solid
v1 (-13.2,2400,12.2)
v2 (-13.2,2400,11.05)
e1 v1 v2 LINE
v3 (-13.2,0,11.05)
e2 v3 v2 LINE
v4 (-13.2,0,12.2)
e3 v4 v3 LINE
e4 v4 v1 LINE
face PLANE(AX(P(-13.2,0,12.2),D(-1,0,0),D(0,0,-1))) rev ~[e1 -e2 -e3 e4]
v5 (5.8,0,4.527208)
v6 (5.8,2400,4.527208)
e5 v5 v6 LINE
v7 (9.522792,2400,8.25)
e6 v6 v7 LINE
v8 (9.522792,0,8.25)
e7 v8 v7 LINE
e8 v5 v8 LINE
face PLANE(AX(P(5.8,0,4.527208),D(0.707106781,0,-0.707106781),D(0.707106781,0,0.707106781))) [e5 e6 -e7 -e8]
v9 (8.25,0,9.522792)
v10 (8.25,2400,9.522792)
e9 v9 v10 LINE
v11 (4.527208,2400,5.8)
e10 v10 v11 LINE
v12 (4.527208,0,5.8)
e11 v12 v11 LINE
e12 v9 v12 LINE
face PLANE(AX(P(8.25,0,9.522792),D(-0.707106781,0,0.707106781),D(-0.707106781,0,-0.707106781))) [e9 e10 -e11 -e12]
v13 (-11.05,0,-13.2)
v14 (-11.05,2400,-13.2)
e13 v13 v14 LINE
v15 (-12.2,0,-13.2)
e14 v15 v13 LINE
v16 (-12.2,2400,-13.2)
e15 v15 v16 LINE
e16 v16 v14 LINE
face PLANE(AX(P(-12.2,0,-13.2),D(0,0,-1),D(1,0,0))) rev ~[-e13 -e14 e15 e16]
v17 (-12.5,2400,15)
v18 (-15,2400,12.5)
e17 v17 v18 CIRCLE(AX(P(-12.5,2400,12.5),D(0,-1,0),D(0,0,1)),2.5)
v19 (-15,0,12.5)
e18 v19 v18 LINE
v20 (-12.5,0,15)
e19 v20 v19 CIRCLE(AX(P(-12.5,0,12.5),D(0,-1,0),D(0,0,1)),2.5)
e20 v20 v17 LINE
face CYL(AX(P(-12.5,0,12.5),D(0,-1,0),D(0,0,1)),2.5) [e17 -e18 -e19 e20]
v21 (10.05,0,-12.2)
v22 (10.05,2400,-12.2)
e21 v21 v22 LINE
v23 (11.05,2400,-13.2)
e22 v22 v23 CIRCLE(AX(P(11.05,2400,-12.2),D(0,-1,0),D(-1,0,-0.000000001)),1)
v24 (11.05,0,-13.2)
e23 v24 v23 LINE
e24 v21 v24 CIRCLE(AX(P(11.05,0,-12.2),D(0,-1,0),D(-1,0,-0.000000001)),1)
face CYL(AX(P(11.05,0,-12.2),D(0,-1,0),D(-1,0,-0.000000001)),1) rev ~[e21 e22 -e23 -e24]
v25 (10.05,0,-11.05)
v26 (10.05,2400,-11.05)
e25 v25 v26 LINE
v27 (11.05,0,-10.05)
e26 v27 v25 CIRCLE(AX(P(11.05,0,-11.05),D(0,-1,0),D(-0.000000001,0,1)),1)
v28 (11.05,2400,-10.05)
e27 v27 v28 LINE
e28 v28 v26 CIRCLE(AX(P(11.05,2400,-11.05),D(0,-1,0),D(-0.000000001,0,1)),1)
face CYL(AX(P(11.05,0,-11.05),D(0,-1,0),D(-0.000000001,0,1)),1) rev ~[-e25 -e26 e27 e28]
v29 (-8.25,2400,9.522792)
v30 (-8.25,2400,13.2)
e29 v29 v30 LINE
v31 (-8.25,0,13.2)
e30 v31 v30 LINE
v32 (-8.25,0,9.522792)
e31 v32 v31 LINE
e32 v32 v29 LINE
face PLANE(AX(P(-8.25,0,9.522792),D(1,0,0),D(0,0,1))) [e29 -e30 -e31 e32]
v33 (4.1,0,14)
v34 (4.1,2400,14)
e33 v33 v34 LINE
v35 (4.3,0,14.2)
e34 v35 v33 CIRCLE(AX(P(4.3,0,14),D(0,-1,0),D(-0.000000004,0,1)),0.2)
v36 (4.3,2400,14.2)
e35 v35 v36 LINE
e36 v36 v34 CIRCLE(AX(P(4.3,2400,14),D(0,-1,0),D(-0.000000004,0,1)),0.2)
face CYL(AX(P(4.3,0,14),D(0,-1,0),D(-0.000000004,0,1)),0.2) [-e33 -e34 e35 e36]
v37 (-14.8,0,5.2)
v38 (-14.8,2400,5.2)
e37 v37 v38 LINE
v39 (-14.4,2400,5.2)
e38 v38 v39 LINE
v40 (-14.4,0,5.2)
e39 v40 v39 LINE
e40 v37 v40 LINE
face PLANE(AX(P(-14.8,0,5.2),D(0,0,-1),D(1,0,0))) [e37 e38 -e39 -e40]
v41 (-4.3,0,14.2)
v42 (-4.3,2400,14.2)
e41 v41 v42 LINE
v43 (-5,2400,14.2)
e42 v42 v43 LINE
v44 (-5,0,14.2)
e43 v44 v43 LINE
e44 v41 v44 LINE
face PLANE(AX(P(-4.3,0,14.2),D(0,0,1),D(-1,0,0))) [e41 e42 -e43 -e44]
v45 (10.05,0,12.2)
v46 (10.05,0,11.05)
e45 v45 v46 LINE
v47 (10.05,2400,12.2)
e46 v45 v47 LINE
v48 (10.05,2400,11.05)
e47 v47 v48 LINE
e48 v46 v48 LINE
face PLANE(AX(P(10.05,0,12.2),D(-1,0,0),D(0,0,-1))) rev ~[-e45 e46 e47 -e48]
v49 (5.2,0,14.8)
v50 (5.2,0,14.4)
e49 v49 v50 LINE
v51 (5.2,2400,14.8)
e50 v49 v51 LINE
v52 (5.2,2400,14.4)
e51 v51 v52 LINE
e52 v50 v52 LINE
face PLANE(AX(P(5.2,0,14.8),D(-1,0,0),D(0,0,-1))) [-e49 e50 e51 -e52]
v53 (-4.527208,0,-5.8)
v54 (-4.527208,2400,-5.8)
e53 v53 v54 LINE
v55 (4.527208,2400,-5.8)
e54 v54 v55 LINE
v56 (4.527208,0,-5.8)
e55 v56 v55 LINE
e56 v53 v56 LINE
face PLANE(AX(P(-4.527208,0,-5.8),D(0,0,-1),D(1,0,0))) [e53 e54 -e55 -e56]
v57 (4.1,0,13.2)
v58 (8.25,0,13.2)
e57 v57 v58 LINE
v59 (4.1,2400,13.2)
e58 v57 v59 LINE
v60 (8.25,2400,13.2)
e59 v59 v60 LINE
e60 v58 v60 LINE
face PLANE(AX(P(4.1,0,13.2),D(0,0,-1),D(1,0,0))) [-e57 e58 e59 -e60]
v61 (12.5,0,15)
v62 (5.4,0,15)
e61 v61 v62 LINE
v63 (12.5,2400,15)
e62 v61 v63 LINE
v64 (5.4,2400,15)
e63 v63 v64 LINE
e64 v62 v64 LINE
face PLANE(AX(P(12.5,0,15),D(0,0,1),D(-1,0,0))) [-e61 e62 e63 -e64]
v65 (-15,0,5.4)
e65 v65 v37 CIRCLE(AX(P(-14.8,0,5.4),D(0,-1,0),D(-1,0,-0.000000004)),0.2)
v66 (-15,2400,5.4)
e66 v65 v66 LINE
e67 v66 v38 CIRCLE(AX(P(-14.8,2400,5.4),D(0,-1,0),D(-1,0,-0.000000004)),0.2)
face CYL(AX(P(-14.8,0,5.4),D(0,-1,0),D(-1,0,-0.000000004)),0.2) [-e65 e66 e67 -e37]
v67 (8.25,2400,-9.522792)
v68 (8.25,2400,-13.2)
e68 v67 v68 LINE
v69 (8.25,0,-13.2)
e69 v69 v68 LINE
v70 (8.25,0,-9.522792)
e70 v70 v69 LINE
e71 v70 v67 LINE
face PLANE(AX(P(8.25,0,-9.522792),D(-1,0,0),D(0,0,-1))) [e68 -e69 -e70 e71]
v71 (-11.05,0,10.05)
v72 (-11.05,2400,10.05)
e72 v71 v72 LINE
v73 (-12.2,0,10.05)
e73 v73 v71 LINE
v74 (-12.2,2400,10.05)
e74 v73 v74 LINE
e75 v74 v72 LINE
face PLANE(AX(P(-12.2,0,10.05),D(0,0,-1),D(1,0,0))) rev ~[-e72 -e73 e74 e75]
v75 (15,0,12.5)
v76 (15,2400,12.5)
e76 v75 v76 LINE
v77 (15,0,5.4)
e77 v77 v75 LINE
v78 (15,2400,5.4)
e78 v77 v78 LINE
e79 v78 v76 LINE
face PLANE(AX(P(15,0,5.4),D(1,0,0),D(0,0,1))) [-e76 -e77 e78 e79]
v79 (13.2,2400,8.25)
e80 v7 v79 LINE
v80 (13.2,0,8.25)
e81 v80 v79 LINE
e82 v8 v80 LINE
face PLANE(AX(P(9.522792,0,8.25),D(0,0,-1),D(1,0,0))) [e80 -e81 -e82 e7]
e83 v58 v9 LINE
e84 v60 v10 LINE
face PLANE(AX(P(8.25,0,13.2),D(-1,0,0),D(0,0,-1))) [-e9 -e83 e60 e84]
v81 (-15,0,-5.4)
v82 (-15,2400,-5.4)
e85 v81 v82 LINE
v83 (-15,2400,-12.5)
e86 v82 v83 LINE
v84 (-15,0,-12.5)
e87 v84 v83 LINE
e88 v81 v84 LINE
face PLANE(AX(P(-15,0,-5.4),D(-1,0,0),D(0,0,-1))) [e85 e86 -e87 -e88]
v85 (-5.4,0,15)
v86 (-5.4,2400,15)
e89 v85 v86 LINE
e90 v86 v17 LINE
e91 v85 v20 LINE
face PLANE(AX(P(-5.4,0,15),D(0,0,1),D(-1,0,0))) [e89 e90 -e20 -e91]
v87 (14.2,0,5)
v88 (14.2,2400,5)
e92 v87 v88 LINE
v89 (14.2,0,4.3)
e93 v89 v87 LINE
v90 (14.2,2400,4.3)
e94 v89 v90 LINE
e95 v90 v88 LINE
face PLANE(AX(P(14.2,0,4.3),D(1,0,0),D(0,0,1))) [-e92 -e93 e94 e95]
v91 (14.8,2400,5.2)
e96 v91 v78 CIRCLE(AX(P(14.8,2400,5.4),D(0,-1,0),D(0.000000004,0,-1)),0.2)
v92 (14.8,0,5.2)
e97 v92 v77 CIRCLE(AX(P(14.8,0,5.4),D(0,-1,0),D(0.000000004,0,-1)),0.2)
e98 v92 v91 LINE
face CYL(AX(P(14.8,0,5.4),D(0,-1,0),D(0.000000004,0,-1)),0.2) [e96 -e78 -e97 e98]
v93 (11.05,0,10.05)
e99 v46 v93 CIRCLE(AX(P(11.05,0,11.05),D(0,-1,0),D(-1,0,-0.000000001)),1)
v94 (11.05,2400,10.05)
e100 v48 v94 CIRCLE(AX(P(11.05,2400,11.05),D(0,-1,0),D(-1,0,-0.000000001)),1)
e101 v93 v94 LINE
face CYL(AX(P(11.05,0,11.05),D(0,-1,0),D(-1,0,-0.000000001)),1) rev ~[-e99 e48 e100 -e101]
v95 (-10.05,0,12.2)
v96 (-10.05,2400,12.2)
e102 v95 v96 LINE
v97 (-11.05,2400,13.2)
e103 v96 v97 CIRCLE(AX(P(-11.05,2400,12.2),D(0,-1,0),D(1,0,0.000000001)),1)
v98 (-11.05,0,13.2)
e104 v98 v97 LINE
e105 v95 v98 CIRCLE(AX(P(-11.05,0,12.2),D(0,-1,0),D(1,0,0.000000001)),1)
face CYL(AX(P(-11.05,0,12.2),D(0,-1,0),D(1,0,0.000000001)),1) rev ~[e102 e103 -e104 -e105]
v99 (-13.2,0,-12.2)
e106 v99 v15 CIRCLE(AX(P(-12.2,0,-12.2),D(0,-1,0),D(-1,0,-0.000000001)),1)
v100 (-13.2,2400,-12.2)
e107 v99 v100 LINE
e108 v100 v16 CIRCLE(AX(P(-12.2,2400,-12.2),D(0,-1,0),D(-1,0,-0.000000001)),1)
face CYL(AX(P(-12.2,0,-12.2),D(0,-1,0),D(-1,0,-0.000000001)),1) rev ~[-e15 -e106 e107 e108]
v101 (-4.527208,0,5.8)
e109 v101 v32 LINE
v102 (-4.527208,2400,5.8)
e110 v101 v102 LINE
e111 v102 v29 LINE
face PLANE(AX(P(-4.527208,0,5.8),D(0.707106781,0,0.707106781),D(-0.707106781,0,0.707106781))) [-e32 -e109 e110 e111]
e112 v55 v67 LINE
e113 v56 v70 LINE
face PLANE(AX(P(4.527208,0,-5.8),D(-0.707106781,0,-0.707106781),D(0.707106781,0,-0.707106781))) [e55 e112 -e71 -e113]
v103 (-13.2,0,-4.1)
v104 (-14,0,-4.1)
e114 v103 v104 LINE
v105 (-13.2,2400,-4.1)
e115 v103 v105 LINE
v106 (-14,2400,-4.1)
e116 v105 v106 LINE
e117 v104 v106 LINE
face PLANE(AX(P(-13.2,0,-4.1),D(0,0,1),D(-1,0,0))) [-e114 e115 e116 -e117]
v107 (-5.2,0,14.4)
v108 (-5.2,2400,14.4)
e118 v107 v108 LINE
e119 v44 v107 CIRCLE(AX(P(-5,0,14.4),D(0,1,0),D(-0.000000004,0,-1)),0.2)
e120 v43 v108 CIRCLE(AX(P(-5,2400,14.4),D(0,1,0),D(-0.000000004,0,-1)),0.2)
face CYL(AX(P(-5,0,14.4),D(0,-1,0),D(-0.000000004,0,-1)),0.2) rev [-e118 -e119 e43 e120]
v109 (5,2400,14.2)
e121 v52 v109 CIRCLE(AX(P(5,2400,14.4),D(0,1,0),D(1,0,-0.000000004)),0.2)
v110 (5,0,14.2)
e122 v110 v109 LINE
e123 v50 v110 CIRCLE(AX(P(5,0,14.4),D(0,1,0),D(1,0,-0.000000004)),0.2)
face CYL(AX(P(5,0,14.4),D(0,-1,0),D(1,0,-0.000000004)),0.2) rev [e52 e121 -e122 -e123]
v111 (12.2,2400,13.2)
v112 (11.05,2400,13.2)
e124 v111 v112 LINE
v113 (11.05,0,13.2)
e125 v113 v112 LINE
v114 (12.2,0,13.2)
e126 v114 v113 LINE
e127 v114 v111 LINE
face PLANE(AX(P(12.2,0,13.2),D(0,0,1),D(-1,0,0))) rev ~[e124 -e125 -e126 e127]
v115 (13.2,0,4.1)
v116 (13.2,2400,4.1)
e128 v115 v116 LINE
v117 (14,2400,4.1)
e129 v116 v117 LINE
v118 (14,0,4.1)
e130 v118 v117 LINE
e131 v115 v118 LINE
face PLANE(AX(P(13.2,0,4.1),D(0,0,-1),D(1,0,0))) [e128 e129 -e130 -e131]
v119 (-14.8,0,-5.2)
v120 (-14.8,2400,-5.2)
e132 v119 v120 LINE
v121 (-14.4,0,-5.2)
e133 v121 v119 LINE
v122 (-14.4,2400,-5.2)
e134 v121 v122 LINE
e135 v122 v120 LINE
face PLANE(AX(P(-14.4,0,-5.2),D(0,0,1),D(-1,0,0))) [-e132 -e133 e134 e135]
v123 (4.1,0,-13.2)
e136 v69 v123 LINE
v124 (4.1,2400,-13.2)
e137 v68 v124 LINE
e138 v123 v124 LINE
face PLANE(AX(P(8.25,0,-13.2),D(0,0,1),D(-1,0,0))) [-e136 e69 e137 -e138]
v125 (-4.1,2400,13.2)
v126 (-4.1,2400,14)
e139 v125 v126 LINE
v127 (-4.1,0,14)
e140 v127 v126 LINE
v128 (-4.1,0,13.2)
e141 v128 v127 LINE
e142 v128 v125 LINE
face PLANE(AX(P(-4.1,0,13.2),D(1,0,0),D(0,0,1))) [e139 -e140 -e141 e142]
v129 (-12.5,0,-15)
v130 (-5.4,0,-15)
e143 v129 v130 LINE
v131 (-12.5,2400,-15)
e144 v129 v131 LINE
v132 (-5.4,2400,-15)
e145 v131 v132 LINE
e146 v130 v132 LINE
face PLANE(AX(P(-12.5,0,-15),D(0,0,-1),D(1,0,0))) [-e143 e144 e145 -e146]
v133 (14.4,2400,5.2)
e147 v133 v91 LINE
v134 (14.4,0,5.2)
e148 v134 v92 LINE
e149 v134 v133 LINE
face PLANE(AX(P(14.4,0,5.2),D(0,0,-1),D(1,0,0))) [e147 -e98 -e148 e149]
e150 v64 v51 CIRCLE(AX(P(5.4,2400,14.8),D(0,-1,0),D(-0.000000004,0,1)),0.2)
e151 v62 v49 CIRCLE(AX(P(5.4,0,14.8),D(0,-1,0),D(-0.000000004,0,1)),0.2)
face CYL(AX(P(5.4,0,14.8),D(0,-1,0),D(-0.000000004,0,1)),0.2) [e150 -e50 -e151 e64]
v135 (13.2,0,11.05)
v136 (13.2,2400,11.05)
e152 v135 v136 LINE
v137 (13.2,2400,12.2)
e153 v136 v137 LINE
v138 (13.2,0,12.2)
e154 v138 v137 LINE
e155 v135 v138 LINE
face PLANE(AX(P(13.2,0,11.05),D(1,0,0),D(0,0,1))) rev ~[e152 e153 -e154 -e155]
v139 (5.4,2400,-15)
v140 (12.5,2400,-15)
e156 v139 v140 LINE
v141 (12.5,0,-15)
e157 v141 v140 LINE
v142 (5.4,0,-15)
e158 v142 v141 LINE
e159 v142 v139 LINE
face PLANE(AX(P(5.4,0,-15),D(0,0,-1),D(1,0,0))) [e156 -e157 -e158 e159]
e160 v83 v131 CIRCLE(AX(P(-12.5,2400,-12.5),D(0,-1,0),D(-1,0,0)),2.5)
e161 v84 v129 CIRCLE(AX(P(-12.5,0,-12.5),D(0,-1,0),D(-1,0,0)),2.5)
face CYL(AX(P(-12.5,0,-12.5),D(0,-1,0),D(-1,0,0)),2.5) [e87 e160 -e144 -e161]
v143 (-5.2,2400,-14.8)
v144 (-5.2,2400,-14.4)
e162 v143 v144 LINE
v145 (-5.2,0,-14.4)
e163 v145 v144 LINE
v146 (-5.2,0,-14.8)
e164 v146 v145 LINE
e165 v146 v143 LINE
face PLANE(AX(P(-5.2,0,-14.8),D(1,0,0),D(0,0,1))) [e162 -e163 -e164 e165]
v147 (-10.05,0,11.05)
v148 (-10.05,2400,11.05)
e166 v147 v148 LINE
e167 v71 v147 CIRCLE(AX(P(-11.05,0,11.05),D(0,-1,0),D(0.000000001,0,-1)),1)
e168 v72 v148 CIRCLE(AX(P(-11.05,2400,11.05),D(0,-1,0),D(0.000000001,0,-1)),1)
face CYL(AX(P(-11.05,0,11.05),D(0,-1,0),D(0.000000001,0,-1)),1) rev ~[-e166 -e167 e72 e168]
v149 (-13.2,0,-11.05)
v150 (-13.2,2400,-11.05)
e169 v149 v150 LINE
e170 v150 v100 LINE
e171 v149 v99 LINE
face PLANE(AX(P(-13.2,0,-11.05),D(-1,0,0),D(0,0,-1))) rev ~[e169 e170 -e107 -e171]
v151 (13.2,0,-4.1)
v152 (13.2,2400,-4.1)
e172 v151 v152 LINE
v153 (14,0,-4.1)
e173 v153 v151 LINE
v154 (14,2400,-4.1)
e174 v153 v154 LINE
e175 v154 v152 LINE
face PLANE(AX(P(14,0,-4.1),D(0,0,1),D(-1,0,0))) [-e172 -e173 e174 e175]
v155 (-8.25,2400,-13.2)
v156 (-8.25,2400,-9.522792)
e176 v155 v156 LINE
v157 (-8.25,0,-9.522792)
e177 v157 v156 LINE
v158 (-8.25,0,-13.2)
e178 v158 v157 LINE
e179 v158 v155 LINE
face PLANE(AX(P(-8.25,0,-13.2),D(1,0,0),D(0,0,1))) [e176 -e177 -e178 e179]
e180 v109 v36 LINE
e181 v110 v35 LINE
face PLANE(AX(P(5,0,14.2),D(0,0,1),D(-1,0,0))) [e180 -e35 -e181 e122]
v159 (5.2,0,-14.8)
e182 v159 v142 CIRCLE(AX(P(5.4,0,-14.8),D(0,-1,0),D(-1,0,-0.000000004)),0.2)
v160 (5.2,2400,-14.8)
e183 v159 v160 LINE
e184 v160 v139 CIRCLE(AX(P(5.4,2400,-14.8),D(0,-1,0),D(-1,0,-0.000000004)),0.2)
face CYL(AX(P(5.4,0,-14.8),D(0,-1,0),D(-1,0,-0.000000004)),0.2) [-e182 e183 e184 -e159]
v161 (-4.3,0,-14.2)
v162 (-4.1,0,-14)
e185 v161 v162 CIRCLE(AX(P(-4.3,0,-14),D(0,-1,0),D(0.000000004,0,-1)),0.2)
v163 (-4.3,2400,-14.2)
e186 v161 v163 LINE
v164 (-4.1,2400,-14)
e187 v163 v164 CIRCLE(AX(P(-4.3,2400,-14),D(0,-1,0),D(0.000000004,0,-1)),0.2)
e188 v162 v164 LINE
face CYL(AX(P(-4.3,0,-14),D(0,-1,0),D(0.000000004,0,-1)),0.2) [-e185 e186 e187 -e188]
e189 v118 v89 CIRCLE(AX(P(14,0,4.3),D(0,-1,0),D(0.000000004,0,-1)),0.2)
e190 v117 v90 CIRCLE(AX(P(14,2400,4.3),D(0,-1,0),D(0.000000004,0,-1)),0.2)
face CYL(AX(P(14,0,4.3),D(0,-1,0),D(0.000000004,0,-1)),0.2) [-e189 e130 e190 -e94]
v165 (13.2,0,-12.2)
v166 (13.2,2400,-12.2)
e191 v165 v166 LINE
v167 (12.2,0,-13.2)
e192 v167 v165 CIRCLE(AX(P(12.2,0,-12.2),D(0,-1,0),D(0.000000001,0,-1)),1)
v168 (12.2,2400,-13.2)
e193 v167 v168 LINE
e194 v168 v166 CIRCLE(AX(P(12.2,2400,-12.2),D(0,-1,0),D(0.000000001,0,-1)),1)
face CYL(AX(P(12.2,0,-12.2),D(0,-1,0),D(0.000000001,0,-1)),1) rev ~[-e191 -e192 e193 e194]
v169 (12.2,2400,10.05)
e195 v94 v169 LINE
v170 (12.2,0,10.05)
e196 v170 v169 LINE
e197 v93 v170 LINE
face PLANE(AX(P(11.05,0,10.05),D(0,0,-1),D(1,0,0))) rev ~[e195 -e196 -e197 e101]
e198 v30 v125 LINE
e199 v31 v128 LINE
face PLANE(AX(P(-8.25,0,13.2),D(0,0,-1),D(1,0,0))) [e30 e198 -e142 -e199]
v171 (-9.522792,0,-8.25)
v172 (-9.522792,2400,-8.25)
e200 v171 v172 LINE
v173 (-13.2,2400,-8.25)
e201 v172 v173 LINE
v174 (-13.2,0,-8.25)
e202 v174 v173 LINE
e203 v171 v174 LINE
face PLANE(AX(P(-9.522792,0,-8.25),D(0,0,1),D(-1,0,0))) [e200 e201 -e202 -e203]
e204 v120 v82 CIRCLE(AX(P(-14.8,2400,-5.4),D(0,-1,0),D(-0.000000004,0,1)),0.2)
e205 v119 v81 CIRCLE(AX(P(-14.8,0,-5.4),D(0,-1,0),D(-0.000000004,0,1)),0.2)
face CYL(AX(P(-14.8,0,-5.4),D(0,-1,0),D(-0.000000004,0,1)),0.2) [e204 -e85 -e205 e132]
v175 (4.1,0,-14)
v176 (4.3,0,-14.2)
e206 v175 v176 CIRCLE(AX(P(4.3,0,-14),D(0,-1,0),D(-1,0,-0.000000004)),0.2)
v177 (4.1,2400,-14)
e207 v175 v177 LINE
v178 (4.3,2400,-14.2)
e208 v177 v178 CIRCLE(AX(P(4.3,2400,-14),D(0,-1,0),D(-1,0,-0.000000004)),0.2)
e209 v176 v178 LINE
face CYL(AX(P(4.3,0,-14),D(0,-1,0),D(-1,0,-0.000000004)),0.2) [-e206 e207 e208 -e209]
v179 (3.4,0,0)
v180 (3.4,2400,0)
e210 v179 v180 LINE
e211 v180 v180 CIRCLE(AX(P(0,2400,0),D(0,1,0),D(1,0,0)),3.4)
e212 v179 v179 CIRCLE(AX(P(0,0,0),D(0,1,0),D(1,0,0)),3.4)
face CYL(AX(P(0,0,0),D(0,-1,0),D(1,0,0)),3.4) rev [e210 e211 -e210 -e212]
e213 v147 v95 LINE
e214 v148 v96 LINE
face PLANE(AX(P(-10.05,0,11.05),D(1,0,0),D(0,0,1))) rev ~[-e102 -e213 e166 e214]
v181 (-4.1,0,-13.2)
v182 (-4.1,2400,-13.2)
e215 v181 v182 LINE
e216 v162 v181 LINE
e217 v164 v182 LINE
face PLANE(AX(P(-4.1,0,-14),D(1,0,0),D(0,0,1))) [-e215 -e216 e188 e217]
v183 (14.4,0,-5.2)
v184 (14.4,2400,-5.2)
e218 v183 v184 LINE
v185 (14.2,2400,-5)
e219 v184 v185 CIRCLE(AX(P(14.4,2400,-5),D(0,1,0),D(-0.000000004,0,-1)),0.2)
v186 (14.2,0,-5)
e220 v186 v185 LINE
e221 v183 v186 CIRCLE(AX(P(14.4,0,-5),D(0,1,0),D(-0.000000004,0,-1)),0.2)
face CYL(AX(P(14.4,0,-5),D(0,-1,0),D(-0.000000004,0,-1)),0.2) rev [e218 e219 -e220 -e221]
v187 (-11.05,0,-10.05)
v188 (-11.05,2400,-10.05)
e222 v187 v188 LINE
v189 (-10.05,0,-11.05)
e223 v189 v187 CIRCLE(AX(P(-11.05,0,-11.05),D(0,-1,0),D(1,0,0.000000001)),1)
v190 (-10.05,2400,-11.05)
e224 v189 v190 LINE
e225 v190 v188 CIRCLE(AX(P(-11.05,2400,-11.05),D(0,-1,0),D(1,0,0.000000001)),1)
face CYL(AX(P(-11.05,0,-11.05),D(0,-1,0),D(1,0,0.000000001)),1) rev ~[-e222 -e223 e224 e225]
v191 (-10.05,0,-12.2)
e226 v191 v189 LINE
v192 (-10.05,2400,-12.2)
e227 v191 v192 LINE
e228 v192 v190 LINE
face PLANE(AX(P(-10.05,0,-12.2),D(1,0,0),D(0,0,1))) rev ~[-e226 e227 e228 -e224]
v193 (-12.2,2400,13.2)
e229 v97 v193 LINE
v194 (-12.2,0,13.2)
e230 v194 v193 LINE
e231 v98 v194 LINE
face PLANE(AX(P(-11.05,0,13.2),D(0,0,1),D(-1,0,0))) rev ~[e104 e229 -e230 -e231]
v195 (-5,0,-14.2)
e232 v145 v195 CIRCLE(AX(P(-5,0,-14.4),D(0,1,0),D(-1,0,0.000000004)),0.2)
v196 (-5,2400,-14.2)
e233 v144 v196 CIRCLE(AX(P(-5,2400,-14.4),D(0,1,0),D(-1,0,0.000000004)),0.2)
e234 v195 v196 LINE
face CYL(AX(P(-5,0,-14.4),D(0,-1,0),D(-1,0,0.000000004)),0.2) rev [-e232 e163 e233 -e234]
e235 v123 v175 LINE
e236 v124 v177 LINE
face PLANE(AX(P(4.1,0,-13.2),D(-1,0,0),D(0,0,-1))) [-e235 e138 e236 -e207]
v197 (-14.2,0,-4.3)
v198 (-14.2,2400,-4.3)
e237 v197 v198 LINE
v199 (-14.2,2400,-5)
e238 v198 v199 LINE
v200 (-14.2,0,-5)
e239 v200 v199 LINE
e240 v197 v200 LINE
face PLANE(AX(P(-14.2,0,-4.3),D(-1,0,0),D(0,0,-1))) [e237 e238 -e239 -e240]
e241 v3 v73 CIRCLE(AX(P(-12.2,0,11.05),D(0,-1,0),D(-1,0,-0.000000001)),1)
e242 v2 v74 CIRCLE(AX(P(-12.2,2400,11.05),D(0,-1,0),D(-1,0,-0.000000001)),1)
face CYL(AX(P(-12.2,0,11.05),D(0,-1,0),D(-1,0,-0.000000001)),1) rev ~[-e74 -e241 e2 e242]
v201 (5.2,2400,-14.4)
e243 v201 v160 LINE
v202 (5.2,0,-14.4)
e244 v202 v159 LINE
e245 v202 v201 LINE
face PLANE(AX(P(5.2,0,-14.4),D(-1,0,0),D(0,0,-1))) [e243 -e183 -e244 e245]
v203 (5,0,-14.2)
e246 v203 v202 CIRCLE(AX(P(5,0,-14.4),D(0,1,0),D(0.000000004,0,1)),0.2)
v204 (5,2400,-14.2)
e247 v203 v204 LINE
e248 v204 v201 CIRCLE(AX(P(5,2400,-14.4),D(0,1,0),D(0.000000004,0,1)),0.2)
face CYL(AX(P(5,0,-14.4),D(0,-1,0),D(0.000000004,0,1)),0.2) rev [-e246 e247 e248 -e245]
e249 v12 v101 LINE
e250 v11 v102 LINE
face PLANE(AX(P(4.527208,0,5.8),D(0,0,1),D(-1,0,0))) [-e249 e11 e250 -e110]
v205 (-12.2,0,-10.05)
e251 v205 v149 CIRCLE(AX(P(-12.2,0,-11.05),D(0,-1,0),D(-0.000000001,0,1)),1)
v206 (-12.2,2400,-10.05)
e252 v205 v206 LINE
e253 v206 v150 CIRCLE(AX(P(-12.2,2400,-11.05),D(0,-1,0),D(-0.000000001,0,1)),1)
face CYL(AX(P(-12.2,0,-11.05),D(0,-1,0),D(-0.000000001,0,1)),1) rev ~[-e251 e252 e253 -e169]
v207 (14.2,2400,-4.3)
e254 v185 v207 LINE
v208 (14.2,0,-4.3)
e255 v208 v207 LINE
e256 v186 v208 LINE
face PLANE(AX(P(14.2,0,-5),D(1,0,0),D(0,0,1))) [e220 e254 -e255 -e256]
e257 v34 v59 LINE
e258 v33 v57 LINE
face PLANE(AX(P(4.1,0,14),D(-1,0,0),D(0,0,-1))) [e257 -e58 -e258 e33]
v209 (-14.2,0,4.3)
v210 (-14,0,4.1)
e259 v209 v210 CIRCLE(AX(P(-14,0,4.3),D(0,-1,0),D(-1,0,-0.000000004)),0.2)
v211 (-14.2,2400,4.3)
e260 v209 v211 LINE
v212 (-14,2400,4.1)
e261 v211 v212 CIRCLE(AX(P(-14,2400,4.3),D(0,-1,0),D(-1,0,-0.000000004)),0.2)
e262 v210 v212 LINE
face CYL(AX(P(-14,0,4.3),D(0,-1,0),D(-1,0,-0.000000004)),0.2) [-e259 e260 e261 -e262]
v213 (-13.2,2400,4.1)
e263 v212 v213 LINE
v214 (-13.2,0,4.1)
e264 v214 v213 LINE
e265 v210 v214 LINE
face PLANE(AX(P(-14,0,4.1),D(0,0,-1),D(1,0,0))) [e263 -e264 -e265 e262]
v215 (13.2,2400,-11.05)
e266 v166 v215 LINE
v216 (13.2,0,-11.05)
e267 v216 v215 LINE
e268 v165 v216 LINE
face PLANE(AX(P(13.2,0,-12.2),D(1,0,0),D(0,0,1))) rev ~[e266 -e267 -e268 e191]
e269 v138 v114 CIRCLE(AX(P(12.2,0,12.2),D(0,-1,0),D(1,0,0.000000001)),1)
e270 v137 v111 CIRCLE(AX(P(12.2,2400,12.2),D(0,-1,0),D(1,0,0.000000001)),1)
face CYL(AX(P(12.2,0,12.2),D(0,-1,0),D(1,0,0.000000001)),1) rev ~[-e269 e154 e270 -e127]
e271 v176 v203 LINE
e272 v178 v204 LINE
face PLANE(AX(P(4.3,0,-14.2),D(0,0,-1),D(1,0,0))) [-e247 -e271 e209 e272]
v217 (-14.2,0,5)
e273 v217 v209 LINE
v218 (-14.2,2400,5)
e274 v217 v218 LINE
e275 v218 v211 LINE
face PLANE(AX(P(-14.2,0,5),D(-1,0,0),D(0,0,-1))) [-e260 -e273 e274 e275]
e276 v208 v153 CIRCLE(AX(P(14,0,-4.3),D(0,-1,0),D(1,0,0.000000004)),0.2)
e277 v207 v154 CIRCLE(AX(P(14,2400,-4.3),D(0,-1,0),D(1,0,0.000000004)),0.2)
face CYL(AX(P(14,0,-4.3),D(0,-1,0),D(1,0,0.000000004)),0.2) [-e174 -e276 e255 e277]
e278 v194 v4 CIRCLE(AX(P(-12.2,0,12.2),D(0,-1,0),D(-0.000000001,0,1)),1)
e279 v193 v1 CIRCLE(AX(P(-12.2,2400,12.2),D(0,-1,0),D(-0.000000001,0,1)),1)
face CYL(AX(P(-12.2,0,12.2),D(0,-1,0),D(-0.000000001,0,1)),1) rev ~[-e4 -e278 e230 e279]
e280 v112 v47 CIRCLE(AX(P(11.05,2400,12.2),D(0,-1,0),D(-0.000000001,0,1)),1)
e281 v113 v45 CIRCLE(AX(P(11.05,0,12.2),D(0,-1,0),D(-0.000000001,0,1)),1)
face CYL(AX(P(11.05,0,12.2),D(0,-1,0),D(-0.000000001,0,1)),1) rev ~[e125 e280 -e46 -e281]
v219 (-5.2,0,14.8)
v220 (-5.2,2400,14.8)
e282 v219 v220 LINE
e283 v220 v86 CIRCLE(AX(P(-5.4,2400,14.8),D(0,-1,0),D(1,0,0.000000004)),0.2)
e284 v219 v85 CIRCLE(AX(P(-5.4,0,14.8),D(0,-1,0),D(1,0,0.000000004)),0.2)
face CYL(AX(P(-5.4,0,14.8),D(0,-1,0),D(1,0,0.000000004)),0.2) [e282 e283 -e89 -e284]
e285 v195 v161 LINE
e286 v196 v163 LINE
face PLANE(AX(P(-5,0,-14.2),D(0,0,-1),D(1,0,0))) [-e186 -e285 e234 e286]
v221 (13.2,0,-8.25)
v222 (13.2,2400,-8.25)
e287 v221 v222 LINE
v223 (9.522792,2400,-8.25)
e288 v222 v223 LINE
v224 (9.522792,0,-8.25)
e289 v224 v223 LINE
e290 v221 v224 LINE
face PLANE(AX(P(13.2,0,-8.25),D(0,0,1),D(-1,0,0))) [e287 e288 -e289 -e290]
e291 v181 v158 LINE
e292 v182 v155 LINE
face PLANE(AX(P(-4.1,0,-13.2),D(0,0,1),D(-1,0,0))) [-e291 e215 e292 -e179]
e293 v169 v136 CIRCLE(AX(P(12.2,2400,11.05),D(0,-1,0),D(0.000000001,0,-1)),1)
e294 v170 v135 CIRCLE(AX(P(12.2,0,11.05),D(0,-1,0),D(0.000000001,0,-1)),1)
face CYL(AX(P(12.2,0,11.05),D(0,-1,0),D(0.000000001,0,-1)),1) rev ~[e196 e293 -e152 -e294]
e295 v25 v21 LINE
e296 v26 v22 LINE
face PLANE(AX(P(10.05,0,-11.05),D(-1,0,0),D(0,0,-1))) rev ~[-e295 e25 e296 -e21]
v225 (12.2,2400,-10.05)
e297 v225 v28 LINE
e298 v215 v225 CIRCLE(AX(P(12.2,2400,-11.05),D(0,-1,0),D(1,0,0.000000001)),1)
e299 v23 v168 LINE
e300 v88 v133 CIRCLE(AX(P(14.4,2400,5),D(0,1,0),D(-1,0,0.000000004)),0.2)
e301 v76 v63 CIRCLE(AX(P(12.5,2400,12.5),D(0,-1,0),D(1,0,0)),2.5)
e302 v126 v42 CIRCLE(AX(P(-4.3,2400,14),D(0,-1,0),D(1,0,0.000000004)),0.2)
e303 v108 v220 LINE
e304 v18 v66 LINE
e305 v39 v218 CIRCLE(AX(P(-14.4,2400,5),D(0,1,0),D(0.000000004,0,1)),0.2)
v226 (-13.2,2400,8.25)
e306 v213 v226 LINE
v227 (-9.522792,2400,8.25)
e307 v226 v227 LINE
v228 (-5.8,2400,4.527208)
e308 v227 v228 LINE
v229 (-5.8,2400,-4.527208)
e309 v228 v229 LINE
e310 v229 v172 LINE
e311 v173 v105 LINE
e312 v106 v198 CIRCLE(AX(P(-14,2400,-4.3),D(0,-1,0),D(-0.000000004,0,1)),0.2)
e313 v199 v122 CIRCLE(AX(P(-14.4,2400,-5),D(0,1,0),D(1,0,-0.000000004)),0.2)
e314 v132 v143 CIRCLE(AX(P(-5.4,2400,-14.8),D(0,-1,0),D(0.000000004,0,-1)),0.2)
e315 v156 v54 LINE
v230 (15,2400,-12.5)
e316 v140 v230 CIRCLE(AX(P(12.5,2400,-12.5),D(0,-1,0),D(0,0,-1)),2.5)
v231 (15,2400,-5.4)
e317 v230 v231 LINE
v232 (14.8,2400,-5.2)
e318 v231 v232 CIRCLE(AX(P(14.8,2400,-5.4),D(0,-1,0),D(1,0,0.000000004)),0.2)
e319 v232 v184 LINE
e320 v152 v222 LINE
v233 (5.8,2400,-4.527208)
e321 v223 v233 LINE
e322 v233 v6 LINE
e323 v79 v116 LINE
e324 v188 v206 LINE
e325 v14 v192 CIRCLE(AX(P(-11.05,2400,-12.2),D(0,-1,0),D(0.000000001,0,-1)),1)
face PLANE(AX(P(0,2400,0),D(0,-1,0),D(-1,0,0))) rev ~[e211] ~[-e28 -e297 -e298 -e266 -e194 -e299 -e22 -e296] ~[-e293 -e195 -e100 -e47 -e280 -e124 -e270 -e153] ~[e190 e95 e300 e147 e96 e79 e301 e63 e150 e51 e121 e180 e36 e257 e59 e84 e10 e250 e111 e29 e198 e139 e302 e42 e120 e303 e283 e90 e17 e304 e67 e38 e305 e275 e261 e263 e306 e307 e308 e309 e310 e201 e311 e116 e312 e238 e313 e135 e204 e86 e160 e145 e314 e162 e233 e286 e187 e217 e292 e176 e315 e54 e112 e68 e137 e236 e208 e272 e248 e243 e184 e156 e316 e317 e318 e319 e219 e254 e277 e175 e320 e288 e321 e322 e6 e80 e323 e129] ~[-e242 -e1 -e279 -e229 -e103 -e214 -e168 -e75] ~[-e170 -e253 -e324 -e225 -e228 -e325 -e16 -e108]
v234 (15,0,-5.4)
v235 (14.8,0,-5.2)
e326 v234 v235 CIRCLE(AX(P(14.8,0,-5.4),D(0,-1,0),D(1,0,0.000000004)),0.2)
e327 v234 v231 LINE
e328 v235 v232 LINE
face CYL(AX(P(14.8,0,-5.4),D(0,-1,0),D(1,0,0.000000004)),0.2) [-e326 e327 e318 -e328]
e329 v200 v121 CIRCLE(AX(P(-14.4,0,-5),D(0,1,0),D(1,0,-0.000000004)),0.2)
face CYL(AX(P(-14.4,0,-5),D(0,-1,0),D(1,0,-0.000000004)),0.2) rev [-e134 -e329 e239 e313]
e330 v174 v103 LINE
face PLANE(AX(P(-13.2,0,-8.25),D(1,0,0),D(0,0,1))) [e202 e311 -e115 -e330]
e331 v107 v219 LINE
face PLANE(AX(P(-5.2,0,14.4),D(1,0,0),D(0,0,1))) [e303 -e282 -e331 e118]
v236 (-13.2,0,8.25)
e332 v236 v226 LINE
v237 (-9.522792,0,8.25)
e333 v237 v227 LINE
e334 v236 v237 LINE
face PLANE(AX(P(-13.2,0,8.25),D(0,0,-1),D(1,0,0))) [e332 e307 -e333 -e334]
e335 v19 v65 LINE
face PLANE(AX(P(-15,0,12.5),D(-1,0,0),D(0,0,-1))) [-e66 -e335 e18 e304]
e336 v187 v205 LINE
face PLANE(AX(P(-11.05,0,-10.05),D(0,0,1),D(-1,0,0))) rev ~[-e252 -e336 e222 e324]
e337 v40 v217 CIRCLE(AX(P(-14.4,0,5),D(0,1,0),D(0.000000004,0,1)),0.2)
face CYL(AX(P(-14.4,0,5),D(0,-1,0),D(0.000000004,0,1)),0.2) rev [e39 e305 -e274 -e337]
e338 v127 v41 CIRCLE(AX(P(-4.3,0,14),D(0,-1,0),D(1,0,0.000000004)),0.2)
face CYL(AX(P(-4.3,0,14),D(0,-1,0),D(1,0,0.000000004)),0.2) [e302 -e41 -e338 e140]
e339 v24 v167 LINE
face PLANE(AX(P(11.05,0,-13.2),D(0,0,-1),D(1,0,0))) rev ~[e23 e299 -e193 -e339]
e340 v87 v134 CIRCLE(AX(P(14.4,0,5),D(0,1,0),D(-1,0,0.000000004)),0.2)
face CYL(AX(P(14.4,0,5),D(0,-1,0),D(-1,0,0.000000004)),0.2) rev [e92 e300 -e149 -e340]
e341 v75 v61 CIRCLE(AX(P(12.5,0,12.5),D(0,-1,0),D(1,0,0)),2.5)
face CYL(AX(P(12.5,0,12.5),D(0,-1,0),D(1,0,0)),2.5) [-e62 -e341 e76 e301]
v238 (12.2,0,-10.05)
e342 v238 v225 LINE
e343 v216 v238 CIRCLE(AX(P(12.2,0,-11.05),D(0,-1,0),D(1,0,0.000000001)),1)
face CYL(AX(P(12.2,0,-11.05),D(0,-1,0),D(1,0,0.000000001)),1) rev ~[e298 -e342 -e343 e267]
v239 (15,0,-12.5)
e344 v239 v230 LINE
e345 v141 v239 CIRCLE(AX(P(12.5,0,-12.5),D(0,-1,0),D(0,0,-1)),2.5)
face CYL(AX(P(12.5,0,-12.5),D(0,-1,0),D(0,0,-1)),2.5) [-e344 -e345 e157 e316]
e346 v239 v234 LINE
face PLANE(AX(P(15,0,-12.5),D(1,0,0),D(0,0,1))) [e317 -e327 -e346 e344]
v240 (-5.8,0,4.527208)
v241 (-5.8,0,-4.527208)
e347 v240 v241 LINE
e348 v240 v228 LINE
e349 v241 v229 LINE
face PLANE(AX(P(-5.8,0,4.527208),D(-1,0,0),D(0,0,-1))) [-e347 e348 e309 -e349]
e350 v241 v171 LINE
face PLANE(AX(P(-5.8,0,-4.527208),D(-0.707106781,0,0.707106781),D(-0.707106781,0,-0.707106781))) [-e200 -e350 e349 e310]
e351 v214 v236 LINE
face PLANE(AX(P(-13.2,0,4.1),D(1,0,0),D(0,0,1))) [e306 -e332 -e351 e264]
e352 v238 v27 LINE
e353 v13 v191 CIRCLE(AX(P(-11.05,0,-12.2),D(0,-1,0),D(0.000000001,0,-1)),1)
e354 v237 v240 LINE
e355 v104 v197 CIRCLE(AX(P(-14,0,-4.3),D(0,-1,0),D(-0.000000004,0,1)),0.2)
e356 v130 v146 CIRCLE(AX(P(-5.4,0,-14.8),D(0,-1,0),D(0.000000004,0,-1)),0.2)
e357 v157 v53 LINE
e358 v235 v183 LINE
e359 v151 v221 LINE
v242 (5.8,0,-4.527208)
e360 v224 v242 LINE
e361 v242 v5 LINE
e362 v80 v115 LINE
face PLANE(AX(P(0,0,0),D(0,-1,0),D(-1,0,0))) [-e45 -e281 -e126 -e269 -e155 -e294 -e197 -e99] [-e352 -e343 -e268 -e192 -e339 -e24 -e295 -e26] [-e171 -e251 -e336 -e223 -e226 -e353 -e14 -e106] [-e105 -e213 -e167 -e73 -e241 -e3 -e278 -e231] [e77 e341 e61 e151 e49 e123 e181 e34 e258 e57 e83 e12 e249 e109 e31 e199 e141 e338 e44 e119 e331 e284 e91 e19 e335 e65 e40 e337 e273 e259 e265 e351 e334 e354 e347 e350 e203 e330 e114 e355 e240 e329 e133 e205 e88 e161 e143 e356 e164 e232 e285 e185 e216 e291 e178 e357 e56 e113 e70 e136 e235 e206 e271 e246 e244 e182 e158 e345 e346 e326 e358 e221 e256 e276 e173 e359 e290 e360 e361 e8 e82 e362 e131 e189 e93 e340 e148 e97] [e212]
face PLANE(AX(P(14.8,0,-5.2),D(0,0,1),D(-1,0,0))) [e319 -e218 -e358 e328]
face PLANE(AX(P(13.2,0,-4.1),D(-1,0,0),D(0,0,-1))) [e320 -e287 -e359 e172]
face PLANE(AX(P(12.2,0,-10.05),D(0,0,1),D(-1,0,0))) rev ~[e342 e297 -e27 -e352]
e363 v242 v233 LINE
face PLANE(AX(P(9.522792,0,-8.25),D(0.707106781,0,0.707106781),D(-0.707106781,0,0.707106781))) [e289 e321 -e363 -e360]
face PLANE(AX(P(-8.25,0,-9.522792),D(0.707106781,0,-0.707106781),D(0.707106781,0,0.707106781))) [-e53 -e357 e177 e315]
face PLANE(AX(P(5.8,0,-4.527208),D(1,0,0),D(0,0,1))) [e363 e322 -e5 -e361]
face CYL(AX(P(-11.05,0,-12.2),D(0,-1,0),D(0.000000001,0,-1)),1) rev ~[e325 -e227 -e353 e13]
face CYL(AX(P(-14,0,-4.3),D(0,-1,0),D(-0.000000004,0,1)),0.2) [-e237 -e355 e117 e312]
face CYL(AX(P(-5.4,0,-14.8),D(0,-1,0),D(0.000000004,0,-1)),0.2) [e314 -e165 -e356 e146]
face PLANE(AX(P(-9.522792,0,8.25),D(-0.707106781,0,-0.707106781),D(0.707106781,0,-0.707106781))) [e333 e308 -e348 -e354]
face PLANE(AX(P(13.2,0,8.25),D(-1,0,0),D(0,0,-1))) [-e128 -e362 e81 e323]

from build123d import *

# Parameters (mm, degrees)
SKETCH_3_R      = 3.4
EXTRUDE_1_DEPTH = 2400


with BuildPart() as part:
    # 草图3 → 凸台-拉伸1 (new body)
    with BuildSketch(Plane(origin=(0, 0, 0), x_dir=(1, 0, 0), z_dir=(0, 1, 0))):
        with BuildLine():
            Line((-15, -12.5), (-15, -5.4))
            ThreePointArc((-15, -5.4), (-14.941421356, -5.258578644), (-14.8, -5.2))
            Line((-14.8, -5.2), (-14.4, -5.2))
            ThreePointArc((-14.4, -5.2), (-14.258578644, -5.141421356), (-14.2, -5))
            Line((-14.2, -5), (-14.2, -4.3))
            ThreePointArc((-14.2, -4.3), (-14.141421356, -4.158578644), (-14, -4.1))
            Line((-14, -4.1), (-13.2, -4.1))
            Line((-13.2, -4.1), (-13.2, -8.25))
            Line((-13.2, -8.25), (-9.522792206, -8.25))
            Line((-9.522792206, -8.25), (-5.8, -4.527207794))
            Line((-5.8, -4.527207794), (-5.8, 4.527207794))
            Line((-5.8, 4.527207794), (-9.522792206, 8.25))
            Line((-9.522792206, 8.25), (-13.2, 8.25))
            Line((-13.2, 8.25), (-13.2, 4.1))
            Line((-13.2, 4.1), (-14, 4.1))
            ThreePointArc((-14, 4.1), (-14.141421356, 4.158578644), (-14.2, 4.3))
            Line((-14.2, 4.3), (-14.2, 5))
            ThreePointArc((-14.2, 5), (-14.258578644, 5.141421356), (-14.4, 5.2))
            Line((-14.4, 5.2), (-14.8, 5.2))
            ThreePointArc((-14.8, 5.2), (-14.941421356, 5.258578644), (-15, 5.4))
            Line((-15, 5.4), (-15, 12.5))
            ThreePointArc((-15, 12.5), (-14.267766953, 14.267766953), (-12.5, 15))
            Line((-12.5, 15), (-5.4, 15))
            ThreePointArc((-5.4, 15), (-5.258578644, 14.941421356), (-5.2, 14.8))
            Line((-5.2, 14.8), (-5.2, 14.4))
            ThreePointArc((-5.2, 14.4), (-5.141421356, 14.258578644), (-5, 14.2))
            Line((-5, 14.2), (-4.3, 14.2))
            ThreePointArc((-4.3, 14.2), (-4.158578644, 14.141421356), (-4.1, 14))
            Line((-4.1, 14), (-4.1, 13.2))
            Line((-4.1, 13.2), (-8.25, 13.2))
            Line((-8.25, 13.2), (-8.25, 9.522792206))
            Line((-8.25, 9.522792206), (-4.527207794, 5.8))
            Line((-4.527207794, 5.8), (4.527207794, 5.8))
            Line((4.527207794, 5.8), (8.25, 9.522792206))
            Line((8.25, 9.522792206), (8.25, 13.2))
            Line((8.25, 13.2), (4.1, 13.2))
            Line((4.1, 13.2), (4.1, 14))
            ThreePointArc((4.1, 14), (4.158578644, 14.141421356), (4.3, 14.2))
            Line((4.3, 14.2), (5, 14.2))
            ThreePointArc((5, 14.2), (5.141421356, 14.258578644), (5.2, 14.4))
            Line((5.2, 14.4), (5.2, 14.8))
            ThreePointArc((5.2, 14.8), (5.258578644, 14.941421356), (5.4, 15))
            Line((5.4, 15), (12.5, 15))
            ThreePointArc((12.5, 15), (14.267766953, 14.267766953), (15, 12.5))
            Line((15, 12.5), (15, 5.4))
            ThreePointArc((15, 5.4), (14.941421356, 5.258578644), (14.8, 5.2))
            Line((14.8, 5.2), (14.4, 5.2))
            ThreePointArc((14.4, 5.2), (14.258578644, 5.141421356), (14.2, 5))
            Line((14.2, 5), (14.2, 4.3))
            ThreePointArc((14.2, 4.3), (14.141421356, 4.158578644), (14, 4.1))
            Line((14, 4.1), (13.2, 4.1))
            Line((13.2, 4.1), (13.2, 8.25))
            Line((13.2, 8.25), (9.522792206, 8.25))
            Line((9.522792206, 8.25), (5.8, 4.527207794))
            Line((5.8, 4.527207794), (5.8, -4.527207794))
            Line((5.8, -4.527207794), (9.522792206, -8.25))
            Line((9.522792206, -8.25), (13.2, -8.25))
            Line((13.2, -8.25), (13.2, -4.1))
            Line((13.2, -4.1), (14, -4.1))
            ThreePointArc((14, -4.1), (14.141421356, -4.158578644), (14.2, -4.3))
            Line((14.2, -4.3), (14.2, -5))
            ThreePointArc((14.2, -5), (14.258578644, -5.141421356), (14.4, -5.2))
            Line((14.4, -5.2), (14.8, -5.2))
            ThreePointArc((14.8, -5.2), (14.941421356, -5.258578644), (15, -5.4))
            Line((15, -5.4), (15, -12.5))
            ThreePointArc((15, -12.5), (14.267766953, -14.267766953), (12.5, -15))
            Line((12.5, -15), (5.4, -15))
            ThreePointArc((5.4, -15), (5.258578644, -14.941421356), (5.2, -14.8))
            Line((5.2, -14.8), (5.2, -14.4))
            ThreePointArc((5.2, -14.4), (5.141421356, -14.258578644), (5, -14.2))
            Line((5, -14.2), (4.3, -14.2))
            ThreePointArc((4.3, -14.2), (4.158578644, -14.141421356), (4.1, -14))
            Line((4.1, -14), (4.1, -13.2))
            Line((4.1, -13.2), (8.25, -13.2))
            Line((8.25, -13.2), (8.25, -9.522792206))
            Line((8.25, -9.522792206), (4.527207794, -5.8))
            Line((4.527207794, -5.8), (-4.527207794, -5.8))
            Line((-4.527207794, -5.8), (-8.25, -9.522792206))
            Line((-8.25, -9.522792206), (-8.25, -13.2))
            Line((-8.25, -13.2), (-4.1, -13.2))
            Line((-4.1, -13.2), (-4.1, -14))
            ThreePointArc((-4.1, -14), (-4.158578644, -14.141421356), (-4.3, -14.2))
            Line((-4.3, -14.2), (-5, -14.2))
            ThreePointArc((-5, -14.2), (-5.141421356, -14.258578644), (-5.2, -14.4))
            Line((-5.2, -14.4), (-5.2, -14.8))
            ThreePointArc((-5.2, -14.8), (-5.258578644, -14.941421356), (-5.4, -15))
            Line((-5.4, -15), (-12.5, -15))
            ThreePointArc((-12.5, -15), (-14.267766953, -14.267766953), (-15, -12.5))
        make_face()
        Circle(SKETCH_3_R, mode=Mode.SUBTRACT)
        with BuildLine():
            Line((-13.2, -12.2), (-13.2, -11.05))
            ThreePointArc((-13.2, -11.05), (-12.907106781, -10.342893219), (-12.2, -10.05))
            Line((-12.2, -10.05), (-11.05, -10.05))
            ThreePointArc((-11.05, -10.05), (-10.342893219, -10.342893219), (-10.05, -11.05))
            Line((-10.05, -11.05), (-10.05, -12.2))
            ThreePointArc((-10.05, -12.2), (-10.342893219, -12.907106781), (-11.05, -13.2))
            Line((-11.05, -13.2), (-12.2, -13.2))
            ThreePointArc((-12.2, -13.2), (-12.907106781, -12.907106781), (-13.2, -12.2))
        make_face(mode=Mode.SUBTRACT)
        with BuildLine():
            Line((-10.05, 12.2), (-10.05, 11.05))
            ThreePointArc((-10.05, 11.05), (-10.342893219, 10.342893219), (-11.05, 10.05))
            Line((-11.05, 10.05), (-12.2, 10.05))
            ThreePointArc((-12.2, 10.05), (-12.907106781, 10.342893219), (-13.2, 11.05))
            Line((-13.2, 11.05), (-13.2, 12.2))
            ThreePointArc((-13.2, 12.2), (-12.907106781, 12.907106781), (-12.2, 13.2))
            Line((-12.2, 13.2), (-11.05, 13.2))
            ThreePointArc((-11.05, 13.2), (-10.342893219, 12.907106781), (-10.05, 12.2))
        make_face(mode=Mode.SUBTRACT)
        with BuildLine():
            Line((13.2, 12.2), (13.2, 11.05))
            ThreePointArc((13.2, 11.05), (12.907106781, 10.342893219), (12.2, 10.05))
            Line((12.2, 10.05), (11.05, 10.05))
            ThreePointArc((11.05, 10.05), (10.342893219, 10.342893219), (10.05, 11.05))
            Line((10.05, 11.05), (10.05, 12.2))
            ThreePointArc((10.05, 12.2), (10.342893219, 12.907106781), (11.05, 13.2))
            Line((11.05, 13.2), (12.2, 13.2))
            ThreePointArc((12.2, 13.2), (12.907106781, 12.907106781), (13.2, 12.2))
        make_face(mode=Mode.SUBTRACT)
        with BuildLine():
            Line((10.05, -12.2), (10.05, -11.05))
            ThreePointArc((10.05, -11.05), (10.342893219, -10.342893219), (11.05, -10.05))
            Line((11.05, -10.05), (12.2, -10.05))
            ThreePointArc((12.2, -10.05), (12.907106781, -10.342893219), (13.2, -11.05))
            Line((13.2, -11.05), (13.2, -12.2))
            ThreePointArc((13.2, -12.2), (12.907106781, -12.907106781), (12.2, -13.2))
            Line((12.2, -13.2), (11.05, -13.2))
            ThreePointArc((11.05, -13.2), (10.342893219, -12.907106781), (10.05, -12.2))
        make_face(mode=Mode.SUBTRACT)
    extrude(amount=EXTRUDE_1_DEPTH)


solid = part.part
